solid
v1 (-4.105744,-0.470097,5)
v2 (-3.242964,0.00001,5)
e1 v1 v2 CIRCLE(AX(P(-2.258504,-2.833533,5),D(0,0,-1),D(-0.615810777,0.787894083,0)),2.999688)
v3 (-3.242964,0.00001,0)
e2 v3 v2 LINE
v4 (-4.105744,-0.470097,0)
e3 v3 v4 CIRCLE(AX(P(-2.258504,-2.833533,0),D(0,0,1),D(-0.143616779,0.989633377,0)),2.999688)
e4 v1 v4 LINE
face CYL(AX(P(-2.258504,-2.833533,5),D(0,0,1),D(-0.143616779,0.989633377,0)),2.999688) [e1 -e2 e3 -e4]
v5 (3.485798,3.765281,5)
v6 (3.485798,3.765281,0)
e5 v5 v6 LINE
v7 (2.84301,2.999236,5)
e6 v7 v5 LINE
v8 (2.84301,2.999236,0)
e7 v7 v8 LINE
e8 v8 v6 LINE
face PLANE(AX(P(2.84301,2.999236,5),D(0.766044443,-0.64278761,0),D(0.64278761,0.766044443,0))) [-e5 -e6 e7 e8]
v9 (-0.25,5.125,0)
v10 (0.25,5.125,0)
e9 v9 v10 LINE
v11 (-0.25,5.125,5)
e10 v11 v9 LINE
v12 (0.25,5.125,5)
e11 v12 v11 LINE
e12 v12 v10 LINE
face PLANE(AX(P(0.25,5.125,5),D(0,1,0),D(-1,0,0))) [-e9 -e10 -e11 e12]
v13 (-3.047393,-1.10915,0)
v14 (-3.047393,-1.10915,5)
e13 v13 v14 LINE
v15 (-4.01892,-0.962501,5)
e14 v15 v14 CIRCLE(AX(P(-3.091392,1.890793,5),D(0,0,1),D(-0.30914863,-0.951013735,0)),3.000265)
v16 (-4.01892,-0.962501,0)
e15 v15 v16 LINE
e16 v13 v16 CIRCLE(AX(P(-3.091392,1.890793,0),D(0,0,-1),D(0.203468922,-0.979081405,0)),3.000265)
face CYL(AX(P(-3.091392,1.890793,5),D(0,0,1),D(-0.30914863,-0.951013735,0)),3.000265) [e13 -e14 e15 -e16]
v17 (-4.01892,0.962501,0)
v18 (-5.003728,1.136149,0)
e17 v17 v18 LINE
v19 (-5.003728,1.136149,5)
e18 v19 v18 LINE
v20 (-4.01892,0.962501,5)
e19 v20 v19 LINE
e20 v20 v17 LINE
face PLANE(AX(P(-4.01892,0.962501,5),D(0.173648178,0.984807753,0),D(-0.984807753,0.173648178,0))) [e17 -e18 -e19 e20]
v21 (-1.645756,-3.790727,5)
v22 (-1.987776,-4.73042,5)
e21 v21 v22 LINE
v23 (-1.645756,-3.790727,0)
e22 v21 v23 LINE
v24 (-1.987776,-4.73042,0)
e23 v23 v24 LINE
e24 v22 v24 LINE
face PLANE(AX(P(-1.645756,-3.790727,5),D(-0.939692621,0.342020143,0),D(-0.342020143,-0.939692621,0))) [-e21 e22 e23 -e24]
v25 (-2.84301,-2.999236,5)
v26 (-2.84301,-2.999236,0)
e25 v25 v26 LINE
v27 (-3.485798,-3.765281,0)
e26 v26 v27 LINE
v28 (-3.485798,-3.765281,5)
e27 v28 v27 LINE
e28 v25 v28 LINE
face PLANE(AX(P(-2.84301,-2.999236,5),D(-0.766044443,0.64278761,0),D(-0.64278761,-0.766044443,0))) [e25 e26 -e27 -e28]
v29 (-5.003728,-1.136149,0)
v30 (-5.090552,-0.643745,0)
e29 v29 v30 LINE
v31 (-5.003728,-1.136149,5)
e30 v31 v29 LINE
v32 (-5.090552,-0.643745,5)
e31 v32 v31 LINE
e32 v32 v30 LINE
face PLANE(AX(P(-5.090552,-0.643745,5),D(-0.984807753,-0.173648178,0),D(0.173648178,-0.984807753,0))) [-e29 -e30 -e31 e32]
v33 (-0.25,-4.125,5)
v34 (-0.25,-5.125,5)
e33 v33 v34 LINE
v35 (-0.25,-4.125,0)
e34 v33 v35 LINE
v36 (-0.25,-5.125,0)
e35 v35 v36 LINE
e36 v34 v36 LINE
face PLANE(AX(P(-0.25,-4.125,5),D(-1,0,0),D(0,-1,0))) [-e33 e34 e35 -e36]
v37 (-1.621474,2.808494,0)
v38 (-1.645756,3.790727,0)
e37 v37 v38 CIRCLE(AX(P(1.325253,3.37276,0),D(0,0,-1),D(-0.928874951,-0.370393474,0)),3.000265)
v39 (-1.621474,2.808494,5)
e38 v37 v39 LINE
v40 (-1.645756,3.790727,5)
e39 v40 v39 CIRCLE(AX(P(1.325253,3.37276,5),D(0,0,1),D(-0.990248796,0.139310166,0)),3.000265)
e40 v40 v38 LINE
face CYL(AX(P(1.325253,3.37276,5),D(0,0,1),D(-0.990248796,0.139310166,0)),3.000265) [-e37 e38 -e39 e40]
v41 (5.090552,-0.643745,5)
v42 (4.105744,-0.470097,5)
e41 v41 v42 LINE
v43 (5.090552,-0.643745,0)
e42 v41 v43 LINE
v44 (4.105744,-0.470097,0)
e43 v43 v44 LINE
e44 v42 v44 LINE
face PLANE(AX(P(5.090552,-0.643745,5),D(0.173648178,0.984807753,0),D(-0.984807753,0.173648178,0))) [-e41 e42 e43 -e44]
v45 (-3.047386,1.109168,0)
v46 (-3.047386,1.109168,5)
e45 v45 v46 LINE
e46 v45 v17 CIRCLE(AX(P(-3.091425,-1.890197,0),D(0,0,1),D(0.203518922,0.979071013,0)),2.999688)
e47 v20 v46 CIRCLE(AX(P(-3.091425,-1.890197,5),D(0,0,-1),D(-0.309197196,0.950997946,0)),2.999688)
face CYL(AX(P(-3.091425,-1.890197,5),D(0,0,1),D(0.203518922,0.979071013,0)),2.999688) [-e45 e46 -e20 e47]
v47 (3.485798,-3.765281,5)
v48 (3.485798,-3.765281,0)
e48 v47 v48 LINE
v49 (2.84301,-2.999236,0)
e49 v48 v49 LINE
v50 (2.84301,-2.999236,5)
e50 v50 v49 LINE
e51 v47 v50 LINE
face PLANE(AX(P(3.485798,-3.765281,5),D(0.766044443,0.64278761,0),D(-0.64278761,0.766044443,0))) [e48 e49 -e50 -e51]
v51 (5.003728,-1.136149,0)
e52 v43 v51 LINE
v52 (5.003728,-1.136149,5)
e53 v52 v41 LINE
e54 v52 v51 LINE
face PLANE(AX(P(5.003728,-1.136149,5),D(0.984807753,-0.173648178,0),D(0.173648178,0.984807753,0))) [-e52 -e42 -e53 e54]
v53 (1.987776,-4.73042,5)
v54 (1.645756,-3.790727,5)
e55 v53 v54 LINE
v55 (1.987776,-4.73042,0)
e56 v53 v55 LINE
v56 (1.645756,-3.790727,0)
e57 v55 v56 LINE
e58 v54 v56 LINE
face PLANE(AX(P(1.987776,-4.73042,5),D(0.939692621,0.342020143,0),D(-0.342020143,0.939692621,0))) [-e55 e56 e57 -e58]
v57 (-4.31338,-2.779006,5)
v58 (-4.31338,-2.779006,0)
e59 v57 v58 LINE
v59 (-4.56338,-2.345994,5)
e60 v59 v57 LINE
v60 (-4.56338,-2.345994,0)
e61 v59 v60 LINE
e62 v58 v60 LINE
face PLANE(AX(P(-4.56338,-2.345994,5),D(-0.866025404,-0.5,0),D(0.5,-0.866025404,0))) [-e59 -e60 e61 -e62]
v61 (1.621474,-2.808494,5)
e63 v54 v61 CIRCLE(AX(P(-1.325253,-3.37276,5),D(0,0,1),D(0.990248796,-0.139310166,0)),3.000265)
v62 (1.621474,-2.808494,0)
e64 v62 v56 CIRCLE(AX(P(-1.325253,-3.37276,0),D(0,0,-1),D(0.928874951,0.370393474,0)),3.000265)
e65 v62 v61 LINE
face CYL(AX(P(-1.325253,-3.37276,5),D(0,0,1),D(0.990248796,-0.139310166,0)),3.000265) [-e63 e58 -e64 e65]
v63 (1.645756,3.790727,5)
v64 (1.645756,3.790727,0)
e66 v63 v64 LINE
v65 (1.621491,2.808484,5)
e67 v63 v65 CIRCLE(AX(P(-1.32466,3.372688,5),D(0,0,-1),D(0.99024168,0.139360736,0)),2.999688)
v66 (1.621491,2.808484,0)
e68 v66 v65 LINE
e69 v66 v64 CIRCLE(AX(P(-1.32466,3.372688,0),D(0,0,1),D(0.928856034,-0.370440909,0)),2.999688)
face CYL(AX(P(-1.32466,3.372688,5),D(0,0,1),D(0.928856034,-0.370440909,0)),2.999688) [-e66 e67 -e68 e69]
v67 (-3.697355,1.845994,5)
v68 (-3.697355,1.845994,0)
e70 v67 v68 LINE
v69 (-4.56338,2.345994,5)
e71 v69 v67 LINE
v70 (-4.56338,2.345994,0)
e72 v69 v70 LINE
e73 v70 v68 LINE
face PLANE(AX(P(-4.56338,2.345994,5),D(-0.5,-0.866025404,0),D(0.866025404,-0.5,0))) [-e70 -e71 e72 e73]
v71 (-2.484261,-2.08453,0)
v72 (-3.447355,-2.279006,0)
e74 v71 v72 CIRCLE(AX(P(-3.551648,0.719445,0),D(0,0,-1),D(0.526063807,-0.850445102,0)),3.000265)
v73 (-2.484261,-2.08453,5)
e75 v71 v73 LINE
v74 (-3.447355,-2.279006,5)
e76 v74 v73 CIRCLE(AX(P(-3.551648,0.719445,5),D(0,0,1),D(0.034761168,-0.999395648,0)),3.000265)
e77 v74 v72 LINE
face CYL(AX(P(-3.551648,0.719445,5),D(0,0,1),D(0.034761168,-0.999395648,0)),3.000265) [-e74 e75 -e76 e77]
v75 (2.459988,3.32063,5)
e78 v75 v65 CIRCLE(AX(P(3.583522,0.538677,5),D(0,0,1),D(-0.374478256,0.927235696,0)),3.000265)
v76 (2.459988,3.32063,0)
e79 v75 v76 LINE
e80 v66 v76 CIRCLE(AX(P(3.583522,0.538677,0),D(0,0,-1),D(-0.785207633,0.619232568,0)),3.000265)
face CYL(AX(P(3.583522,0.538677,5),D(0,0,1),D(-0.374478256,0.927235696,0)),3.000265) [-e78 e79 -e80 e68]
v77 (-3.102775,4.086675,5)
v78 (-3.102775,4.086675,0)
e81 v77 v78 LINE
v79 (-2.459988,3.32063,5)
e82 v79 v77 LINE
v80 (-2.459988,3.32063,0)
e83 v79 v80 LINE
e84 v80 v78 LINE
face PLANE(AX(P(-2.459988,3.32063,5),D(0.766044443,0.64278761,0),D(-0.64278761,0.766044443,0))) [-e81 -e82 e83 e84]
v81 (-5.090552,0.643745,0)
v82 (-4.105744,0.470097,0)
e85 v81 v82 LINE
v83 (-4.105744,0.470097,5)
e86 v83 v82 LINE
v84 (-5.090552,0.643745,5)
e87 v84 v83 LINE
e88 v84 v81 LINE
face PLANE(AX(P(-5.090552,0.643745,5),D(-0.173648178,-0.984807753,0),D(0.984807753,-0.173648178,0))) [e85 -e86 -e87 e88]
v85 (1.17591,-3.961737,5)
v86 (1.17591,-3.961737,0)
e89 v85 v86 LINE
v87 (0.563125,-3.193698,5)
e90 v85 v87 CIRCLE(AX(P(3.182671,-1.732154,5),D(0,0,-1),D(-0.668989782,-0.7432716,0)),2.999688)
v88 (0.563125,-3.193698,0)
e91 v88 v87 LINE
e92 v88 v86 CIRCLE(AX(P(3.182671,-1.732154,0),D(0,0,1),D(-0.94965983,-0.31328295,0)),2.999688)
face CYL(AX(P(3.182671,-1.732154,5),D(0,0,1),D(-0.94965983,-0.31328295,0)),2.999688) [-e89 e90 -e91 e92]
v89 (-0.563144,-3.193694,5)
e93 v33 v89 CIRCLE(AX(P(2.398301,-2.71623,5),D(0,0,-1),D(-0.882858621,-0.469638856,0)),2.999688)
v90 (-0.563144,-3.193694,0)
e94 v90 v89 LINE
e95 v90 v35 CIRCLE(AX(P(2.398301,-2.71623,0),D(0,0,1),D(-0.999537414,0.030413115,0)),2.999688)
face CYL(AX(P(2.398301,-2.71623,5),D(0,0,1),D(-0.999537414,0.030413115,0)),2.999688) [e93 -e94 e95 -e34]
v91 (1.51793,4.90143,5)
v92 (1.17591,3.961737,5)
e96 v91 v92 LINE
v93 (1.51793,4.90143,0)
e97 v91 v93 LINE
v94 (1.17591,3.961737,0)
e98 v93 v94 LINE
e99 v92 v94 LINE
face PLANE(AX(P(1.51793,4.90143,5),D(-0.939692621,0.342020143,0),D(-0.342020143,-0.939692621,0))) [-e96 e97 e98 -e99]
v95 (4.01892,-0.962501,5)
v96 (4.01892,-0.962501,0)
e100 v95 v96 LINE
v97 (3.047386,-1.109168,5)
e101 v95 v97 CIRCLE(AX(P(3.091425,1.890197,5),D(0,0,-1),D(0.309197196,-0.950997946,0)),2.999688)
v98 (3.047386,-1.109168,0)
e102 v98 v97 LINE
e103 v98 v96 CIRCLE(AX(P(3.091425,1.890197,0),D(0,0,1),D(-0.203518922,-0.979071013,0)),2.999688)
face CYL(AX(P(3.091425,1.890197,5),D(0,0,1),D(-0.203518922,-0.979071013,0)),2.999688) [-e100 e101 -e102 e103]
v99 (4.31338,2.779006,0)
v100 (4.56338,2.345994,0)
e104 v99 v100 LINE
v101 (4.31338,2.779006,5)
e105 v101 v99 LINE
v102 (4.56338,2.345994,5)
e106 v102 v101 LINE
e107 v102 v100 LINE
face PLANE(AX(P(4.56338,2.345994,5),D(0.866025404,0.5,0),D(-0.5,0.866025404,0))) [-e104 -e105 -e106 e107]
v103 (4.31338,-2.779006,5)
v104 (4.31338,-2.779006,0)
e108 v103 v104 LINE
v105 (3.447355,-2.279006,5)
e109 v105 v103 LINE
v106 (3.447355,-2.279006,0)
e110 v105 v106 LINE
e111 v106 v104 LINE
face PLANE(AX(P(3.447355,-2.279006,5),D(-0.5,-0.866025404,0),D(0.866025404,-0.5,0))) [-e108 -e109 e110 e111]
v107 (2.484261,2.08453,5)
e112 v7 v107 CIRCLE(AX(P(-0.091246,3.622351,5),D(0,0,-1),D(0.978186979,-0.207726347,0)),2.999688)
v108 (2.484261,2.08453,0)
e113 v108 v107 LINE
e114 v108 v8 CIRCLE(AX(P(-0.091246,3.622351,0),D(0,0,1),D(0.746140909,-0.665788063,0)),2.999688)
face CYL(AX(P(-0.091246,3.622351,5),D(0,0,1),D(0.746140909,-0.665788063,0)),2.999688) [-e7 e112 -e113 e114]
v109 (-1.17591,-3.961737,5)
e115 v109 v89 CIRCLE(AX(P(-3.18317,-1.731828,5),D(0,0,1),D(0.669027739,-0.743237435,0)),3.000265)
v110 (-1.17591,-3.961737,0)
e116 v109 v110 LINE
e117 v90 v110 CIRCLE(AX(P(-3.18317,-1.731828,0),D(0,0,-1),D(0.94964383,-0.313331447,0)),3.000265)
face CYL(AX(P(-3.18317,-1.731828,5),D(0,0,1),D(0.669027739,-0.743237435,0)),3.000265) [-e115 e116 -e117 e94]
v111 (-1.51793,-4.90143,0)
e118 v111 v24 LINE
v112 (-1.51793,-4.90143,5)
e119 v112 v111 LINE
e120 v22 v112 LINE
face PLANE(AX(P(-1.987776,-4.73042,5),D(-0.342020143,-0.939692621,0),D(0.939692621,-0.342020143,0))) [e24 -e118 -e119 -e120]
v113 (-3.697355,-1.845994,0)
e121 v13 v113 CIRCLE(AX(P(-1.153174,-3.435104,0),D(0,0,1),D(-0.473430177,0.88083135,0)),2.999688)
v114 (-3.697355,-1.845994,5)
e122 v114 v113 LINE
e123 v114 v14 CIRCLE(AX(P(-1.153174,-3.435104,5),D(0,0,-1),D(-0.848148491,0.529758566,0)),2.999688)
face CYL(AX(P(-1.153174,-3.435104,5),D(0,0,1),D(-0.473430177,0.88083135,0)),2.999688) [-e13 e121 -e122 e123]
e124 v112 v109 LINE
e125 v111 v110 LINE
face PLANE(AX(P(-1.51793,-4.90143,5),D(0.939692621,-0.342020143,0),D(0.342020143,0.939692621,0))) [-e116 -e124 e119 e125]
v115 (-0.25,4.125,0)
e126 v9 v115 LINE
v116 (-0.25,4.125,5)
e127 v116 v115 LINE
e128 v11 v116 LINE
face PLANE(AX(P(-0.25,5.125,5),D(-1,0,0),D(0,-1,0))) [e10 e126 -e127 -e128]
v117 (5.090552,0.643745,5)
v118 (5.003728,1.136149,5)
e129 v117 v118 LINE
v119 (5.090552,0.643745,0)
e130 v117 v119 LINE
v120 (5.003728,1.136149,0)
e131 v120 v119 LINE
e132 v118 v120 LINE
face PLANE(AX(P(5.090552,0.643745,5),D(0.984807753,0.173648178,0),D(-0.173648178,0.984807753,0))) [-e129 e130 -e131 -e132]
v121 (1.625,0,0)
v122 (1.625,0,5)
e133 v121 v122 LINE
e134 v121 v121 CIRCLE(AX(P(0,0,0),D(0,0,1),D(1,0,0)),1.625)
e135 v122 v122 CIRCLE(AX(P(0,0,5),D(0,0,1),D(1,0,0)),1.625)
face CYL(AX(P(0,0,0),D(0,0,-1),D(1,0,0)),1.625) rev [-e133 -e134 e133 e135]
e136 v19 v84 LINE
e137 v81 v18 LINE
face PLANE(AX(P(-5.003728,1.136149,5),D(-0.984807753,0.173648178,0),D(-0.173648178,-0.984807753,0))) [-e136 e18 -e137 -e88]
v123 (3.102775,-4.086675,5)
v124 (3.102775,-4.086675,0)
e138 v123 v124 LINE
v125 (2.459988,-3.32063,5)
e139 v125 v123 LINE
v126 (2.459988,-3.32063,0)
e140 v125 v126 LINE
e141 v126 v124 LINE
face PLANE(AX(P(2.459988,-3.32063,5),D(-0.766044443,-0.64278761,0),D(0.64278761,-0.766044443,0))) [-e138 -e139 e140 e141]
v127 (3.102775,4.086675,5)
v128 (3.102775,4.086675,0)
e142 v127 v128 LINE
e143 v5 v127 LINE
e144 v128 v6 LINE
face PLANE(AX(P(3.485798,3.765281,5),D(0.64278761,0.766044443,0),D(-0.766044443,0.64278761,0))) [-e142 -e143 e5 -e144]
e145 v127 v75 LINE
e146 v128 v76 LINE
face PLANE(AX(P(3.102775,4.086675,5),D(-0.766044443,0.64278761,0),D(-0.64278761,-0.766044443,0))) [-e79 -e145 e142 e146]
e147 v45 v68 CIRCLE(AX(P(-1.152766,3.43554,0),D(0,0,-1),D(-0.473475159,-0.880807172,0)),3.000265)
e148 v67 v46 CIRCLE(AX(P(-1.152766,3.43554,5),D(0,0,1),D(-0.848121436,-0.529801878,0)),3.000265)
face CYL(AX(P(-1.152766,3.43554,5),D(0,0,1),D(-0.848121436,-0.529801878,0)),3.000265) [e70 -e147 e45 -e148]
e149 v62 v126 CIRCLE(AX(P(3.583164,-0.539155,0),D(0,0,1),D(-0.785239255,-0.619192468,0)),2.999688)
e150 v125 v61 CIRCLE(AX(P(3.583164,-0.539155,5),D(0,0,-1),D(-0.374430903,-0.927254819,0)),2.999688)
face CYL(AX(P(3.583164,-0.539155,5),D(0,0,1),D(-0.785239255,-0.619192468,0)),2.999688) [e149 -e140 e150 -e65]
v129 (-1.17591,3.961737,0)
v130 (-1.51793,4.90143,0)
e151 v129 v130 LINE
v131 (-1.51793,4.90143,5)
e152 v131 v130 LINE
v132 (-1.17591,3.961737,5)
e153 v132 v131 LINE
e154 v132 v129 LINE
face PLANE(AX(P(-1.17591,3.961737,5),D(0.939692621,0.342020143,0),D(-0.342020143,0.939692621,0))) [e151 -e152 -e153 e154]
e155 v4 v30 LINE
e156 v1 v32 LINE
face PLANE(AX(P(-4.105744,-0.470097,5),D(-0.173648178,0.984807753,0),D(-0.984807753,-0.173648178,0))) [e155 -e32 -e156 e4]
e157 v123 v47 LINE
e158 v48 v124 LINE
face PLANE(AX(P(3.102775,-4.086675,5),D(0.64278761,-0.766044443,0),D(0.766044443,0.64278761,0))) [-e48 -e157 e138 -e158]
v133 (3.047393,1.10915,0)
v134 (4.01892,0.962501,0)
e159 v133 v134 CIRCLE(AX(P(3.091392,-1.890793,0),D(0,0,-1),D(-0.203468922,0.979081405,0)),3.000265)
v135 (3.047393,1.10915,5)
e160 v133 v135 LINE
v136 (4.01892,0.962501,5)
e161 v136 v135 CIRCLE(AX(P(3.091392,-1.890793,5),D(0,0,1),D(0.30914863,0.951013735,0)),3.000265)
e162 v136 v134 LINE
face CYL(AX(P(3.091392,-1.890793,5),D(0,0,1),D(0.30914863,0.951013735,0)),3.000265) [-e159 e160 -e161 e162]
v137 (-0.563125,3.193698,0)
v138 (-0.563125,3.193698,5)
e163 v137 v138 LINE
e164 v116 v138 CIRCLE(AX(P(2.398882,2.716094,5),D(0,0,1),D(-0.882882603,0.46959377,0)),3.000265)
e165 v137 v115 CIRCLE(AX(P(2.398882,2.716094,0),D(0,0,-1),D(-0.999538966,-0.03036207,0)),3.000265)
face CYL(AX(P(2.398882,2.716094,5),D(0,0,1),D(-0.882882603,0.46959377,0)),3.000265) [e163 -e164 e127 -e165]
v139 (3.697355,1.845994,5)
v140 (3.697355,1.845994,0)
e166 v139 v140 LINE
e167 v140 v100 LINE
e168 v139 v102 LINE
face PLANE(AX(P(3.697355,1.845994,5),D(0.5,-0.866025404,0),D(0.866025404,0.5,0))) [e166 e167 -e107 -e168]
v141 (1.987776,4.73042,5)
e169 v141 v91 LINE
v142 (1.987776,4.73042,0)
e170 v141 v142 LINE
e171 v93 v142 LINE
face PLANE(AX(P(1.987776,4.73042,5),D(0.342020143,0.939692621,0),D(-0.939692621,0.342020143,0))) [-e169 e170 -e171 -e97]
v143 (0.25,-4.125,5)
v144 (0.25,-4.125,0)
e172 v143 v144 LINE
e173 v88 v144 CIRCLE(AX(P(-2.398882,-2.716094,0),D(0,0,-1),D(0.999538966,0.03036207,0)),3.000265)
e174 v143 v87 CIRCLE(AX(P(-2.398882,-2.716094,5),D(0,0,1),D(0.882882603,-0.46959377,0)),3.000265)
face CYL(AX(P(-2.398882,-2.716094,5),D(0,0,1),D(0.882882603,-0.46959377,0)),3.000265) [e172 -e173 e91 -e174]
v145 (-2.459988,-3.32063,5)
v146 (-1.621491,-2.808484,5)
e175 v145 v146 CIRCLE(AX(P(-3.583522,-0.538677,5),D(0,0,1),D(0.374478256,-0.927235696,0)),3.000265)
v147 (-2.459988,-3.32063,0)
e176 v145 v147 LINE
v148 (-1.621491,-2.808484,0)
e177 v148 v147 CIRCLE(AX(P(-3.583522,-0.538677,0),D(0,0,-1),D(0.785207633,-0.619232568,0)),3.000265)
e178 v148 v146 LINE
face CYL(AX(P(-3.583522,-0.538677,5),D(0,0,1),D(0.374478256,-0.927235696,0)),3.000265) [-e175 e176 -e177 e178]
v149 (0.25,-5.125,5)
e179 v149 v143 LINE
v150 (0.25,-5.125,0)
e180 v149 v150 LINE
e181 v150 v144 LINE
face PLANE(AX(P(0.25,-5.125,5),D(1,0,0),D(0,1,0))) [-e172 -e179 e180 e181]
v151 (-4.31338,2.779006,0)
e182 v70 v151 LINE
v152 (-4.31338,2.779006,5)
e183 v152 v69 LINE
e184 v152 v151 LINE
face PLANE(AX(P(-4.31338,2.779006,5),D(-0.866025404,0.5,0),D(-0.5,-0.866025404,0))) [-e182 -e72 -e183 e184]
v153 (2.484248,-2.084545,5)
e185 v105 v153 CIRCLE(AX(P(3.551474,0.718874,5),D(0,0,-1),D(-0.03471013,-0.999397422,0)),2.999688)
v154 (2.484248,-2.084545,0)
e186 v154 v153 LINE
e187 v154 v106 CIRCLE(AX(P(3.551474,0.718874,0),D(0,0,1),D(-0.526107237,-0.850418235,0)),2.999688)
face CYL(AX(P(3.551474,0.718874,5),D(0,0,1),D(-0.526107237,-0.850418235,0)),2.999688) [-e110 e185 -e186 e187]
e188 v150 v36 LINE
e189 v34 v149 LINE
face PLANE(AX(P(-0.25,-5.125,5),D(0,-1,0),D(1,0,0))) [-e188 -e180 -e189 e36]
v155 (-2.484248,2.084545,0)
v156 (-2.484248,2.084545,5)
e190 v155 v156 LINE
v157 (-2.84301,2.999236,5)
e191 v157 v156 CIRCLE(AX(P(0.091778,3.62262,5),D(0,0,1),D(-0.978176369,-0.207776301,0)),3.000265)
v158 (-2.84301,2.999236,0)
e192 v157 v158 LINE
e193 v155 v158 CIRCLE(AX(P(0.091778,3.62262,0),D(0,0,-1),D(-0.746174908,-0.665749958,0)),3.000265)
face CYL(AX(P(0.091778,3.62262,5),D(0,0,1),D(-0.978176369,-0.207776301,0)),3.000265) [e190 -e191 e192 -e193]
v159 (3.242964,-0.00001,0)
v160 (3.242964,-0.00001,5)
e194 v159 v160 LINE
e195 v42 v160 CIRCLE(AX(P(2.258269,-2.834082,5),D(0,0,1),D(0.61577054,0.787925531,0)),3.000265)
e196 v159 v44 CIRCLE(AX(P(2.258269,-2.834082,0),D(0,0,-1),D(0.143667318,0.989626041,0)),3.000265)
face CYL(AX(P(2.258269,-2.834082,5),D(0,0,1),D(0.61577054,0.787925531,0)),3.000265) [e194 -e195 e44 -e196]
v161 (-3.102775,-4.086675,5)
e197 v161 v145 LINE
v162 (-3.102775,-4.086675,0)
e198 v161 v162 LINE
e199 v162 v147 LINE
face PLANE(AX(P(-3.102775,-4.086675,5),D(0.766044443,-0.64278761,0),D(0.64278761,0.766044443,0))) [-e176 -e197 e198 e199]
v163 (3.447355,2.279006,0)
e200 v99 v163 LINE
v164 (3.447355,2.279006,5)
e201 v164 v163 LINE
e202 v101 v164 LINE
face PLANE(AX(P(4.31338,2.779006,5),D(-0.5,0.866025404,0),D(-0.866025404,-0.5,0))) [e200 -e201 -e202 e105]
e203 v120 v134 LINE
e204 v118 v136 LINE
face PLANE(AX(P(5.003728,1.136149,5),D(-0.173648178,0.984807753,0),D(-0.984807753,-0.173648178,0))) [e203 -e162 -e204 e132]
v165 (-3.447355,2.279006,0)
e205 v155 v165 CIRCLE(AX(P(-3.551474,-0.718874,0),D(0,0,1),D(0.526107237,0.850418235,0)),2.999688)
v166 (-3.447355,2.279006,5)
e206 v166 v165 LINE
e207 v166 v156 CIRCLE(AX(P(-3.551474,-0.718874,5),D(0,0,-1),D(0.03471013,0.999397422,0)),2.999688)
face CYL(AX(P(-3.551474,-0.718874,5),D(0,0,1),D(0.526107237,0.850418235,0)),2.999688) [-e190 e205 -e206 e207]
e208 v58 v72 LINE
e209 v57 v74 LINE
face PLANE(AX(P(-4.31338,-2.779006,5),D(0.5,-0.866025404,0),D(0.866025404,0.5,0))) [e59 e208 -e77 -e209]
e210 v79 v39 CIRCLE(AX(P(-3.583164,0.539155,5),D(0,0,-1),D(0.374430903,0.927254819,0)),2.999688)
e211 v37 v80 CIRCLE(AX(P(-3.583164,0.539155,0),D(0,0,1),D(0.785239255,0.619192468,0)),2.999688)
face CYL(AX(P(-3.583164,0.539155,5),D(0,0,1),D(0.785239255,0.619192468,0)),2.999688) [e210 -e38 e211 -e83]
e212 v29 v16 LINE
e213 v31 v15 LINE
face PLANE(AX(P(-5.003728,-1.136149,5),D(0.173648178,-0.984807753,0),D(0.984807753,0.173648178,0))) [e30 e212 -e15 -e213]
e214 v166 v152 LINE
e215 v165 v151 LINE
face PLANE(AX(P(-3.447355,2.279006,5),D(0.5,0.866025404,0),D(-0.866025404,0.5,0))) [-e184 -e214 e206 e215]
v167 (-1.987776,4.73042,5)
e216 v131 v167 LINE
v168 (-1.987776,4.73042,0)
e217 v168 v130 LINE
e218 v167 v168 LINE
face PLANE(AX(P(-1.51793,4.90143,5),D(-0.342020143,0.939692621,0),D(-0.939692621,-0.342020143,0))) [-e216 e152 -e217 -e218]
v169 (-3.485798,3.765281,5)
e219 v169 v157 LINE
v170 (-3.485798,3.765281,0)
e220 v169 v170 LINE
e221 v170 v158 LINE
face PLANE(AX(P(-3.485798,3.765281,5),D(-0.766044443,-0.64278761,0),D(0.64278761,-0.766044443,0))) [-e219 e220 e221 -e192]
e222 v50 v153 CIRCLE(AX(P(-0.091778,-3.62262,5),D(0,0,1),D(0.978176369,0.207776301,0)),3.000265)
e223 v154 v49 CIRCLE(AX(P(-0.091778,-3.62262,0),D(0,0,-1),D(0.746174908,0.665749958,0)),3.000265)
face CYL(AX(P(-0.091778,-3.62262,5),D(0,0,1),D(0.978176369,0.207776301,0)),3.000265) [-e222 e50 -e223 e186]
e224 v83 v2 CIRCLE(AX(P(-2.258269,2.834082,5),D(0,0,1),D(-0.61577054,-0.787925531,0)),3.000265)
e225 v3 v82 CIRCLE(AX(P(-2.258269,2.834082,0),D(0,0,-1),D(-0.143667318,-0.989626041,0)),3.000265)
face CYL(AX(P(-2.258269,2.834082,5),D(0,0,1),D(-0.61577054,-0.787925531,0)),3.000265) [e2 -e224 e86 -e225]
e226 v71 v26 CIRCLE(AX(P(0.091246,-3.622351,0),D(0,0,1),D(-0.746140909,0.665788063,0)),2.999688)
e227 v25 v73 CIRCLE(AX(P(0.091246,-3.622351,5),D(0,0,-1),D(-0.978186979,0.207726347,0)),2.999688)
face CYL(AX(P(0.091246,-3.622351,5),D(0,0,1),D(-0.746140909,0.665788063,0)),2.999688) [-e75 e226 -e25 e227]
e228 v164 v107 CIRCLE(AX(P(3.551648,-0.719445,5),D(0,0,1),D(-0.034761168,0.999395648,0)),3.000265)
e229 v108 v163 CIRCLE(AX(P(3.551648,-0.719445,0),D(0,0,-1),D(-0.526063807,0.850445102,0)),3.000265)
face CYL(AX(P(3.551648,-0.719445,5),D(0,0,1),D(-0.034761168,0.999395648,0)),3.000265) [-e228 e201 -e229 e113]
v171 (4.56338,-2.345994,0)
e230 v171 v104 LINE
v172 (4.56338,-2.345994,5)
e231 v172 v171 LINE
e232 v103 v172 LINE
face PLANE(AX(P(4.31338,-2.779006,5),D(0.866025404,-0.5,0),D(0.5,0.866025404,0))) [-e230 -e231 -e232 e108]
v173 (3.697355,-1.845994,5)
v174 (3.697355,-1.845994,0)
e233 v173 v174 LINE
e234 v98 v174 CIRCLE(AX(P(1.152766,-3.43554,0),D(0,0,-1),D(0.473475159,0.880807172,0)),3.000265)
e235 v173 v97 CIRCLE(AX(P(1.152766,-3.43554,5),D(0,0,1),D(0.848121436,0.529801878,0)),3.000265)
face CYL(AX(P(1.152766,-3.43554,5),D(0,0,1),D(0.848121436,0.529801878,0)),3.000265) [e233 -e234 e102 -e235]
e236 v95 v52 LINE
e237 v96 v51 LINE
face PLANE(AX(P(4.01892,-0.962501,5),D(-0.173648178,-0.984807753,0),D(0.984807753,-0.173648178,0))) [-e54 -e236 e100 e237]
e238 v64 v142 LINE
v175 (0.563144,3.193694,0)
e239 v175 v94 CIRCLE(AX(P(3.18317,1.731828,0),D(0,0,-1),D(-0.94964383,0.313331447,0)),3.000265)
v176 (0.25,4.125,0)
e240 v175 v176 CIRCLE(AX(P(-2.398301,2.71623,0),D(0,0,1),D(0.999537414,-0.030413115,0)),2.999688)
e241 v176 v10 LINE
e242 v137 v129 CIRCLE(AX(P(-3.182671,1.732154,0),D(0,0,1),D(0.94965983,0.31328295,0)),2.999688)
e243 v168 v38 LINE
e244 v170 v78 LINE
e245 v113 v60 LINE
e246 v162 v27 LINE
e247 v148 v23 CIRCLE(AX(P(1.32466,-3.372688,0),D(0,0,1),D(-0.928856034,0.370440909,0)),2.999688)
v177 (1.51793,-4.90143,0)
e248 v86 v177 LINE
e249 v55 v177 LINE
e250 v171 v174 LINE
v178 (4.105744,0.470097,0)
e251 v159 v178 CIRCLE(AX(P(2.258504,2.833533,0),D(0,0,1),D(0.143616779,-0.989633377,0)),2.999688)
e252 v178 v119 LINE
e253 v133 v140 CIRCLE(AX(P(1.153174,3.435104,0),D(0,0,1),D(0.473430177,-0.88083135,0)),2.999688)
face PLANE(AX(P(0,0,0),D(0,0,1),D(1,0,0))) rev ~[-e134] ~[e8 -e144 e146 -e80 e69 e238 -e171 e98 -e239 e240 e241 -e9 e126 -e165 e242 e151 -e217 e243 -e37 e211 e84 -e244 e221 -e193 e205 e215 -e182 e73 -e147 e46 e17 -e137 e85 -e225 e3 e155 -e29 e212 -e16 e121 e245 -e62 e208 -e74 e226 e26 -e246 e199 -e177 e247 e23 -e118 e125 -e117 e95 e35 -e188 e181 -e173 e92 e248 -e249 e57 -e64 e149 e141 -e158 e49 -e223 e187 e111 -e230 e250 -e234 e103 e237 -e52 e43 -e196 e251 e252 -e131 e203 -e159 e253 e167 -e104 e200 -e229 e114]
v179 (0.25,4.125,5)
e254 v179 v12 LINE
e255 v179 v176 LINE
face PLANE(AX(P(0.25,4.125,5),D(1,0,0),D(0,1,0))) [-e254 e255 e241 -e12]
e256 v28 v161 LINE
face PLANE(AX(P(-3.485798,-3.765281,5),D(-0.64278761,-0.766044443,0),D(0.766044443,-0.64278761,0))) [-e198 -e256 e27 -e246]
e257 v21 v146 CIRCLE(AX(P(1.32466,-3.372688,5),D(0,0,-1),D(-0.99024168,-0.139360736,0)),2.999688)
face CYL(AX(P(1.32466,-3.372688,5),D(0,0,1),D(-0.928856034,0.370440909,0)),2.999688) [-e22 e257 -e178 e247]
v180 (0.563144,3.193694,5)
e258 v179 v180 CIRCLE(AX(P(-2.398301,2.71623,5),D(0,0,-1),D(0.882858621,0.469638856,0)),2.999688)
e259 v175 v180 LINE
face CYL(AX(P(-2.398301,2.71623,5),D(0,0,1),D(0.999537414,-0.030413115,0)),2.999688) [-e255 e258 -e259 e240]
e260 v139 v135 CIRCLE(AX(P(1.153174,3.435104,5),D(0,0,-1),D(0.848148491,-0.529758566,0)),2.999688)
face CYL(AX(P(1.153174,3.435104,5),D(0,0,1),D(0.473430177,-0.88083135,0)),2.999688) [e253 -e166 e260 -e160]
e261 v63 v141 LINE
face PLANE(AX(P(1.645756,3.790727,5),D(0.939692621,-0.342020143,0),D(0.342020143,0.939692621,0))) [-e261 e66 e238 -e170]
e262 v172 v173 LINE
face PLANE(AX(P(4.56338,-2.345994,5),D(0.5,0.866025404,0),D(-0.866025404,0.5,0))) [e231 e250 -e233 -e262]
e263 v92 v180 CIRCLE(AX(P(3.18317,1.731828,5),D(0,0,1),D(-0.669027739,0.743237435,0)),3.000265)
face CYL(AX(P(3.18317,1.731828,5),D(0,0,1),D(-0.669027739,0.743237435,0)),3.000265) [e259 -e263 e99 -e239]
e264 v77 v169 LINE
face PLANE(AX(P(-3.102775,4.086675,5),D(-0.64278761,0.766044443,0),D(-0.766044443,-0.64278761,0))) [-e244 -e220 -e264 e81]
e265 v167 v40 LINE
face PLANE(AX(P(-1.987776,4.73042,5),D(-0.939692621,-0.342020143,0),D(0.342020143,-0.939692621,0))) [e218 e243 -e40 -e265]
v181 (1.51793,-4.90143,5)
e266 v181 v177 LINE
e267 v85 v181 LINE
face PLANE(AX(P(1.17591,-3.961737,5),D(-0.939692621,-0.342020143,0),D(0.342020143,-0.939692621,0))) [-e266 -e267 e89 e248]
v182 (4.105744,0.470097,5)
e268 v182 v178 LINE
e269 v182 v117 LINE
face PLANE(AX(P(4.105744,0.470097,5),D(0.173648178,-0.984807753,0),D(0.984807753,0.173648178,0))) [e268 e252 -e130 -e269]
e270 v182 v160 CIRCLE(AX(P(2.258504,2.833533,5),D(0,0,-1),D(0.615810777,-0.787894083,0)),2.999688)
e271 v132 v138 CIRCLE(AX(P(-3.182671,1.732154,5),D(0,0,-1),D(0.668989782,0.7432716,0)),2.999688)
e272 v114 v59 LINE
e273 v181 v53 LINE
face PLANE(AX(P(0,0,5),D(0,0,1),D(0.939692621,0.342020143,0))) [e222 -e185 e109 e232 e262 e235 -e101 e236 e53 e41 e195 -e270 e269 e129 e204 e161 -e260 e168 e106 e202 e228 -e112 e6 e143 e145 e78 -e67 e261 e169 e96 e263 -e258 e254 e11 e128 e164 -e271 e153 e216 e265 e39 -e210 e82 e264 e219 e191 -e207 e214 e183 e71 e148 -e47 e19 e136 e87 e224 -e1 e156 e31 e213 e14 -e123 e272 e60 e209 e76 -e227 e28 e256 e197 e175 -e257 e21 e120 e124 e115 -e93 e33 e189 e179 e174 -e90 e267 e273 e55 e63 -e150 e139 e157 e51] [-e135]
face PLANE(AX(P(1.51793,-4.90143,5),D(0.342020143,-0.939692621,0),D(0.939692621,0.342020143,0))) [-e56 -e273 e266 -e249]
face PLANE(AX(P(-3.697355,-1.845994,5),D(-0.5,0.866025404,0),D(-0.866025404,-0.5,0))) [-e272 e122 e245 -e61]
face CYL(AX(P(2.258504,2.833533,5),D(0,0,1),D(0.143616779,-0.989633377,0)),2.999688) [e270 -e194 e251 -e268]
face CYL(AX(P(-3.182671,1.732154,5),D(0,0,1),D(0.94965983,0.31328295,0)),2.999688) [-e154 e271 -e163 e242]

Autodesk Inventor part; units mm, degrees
ref_plane "YZ Plane" through (0, 0, 0) normal (1, 0, 0) x (0, 1, 0)
ref_plane "XZ Plane" through (0, 0, 0) normal (0, 1, 0) x (-1, 0, 0)
ref_plane "XY Plane" through (0, 0, 0) normal (0, 0, 1) x (1, 0, 0)
sketch "Sketch1" plane through (0, 0, 0) normal (0, 0, 1) x (1, 0, 0)
  circle A0 centre (0, 0) radius 3.125
  circle A1 centre (0, 0) radius 1.625
  dimension "d0" = 6.25
  dimension "d1" = 3.25
extrude "Extrusion1" add sketch "Sketch1" along normal blind 5
sketch "Sketch2" plane through (0, 0, 5) normal (0, 0, 1) x (1, 0, 0)
  circle A0 centre (0, 0) radius 3.125 projected
  line L0 (0, 3.125) -> (0, 5.125)
  line L1 (-0.25, 3.125) -> (0.25, 3.125)
  line L2 (0.25, 3.125) -> (0.25, 5.125)
  line L3 (0.25, 5.125) -> (-0.25, 5.125)
  line L4 (-0.25, 5.125) -> (-0.25, 3.125)
  line L5 (-0.25, 3.125) -> (0.25, 5.125) construction
  line L6 (0.25, 3.125) -> (-0.25, 5.125) construction
  line L7 (0, 3.125) -> (0, 2.625)
  line L8 (0, 2.625) -> (0.6, 2.625)
  arc A1 (0.6, 2.625) -> (0.25, 4.125) centre (-2.3986, 2.7162) ccw
  line L9 (0, 2.625) -> (-0.6, 2.625)
  arc A2 (-0.25, 4.125) -> (-0.6, 2.625) centre (2.3986, 2.7162) ccw
  point P0 (0, 4.125)
  point P1 (-1, 2.625)
  dimension "d4" = 2
  dimension "d5" = 0.5
  dimension "d6" = 0.5
  dimension "d7" = 0.6
  dimension "d8" = 1.6
  dimension "d10" = 3
  dimension "d18" = 0.6
  dimension "d19" = 3
extrude "Extrusion2" add sketch "Sketch2" against normal blind 5 contours A1 L8 L7 A0 | A0 L1 L2 A1 | A2 L4 L1 A0 | A0 L7 L9 A2 | L1 L4 L3 L0 | L0 L3 L2 L1
ref_plane "Work Plane1" through (0, 4.125, 5) normal (1, 0, 0) x (0, 0, -1)
sketch "Sketch3" plane through (0, 4.125, 5) normal (1, 0, 0) x (0, 0, -1)
  line L0 (5, -4.125) -> (9.15, -4.125)
pattern_circular "Circular Pattern1" count 18 over 360 about axis through (0, 0, 0) along (0, 0, -1) of "Extrusion2"
properties part number "cog_index"
